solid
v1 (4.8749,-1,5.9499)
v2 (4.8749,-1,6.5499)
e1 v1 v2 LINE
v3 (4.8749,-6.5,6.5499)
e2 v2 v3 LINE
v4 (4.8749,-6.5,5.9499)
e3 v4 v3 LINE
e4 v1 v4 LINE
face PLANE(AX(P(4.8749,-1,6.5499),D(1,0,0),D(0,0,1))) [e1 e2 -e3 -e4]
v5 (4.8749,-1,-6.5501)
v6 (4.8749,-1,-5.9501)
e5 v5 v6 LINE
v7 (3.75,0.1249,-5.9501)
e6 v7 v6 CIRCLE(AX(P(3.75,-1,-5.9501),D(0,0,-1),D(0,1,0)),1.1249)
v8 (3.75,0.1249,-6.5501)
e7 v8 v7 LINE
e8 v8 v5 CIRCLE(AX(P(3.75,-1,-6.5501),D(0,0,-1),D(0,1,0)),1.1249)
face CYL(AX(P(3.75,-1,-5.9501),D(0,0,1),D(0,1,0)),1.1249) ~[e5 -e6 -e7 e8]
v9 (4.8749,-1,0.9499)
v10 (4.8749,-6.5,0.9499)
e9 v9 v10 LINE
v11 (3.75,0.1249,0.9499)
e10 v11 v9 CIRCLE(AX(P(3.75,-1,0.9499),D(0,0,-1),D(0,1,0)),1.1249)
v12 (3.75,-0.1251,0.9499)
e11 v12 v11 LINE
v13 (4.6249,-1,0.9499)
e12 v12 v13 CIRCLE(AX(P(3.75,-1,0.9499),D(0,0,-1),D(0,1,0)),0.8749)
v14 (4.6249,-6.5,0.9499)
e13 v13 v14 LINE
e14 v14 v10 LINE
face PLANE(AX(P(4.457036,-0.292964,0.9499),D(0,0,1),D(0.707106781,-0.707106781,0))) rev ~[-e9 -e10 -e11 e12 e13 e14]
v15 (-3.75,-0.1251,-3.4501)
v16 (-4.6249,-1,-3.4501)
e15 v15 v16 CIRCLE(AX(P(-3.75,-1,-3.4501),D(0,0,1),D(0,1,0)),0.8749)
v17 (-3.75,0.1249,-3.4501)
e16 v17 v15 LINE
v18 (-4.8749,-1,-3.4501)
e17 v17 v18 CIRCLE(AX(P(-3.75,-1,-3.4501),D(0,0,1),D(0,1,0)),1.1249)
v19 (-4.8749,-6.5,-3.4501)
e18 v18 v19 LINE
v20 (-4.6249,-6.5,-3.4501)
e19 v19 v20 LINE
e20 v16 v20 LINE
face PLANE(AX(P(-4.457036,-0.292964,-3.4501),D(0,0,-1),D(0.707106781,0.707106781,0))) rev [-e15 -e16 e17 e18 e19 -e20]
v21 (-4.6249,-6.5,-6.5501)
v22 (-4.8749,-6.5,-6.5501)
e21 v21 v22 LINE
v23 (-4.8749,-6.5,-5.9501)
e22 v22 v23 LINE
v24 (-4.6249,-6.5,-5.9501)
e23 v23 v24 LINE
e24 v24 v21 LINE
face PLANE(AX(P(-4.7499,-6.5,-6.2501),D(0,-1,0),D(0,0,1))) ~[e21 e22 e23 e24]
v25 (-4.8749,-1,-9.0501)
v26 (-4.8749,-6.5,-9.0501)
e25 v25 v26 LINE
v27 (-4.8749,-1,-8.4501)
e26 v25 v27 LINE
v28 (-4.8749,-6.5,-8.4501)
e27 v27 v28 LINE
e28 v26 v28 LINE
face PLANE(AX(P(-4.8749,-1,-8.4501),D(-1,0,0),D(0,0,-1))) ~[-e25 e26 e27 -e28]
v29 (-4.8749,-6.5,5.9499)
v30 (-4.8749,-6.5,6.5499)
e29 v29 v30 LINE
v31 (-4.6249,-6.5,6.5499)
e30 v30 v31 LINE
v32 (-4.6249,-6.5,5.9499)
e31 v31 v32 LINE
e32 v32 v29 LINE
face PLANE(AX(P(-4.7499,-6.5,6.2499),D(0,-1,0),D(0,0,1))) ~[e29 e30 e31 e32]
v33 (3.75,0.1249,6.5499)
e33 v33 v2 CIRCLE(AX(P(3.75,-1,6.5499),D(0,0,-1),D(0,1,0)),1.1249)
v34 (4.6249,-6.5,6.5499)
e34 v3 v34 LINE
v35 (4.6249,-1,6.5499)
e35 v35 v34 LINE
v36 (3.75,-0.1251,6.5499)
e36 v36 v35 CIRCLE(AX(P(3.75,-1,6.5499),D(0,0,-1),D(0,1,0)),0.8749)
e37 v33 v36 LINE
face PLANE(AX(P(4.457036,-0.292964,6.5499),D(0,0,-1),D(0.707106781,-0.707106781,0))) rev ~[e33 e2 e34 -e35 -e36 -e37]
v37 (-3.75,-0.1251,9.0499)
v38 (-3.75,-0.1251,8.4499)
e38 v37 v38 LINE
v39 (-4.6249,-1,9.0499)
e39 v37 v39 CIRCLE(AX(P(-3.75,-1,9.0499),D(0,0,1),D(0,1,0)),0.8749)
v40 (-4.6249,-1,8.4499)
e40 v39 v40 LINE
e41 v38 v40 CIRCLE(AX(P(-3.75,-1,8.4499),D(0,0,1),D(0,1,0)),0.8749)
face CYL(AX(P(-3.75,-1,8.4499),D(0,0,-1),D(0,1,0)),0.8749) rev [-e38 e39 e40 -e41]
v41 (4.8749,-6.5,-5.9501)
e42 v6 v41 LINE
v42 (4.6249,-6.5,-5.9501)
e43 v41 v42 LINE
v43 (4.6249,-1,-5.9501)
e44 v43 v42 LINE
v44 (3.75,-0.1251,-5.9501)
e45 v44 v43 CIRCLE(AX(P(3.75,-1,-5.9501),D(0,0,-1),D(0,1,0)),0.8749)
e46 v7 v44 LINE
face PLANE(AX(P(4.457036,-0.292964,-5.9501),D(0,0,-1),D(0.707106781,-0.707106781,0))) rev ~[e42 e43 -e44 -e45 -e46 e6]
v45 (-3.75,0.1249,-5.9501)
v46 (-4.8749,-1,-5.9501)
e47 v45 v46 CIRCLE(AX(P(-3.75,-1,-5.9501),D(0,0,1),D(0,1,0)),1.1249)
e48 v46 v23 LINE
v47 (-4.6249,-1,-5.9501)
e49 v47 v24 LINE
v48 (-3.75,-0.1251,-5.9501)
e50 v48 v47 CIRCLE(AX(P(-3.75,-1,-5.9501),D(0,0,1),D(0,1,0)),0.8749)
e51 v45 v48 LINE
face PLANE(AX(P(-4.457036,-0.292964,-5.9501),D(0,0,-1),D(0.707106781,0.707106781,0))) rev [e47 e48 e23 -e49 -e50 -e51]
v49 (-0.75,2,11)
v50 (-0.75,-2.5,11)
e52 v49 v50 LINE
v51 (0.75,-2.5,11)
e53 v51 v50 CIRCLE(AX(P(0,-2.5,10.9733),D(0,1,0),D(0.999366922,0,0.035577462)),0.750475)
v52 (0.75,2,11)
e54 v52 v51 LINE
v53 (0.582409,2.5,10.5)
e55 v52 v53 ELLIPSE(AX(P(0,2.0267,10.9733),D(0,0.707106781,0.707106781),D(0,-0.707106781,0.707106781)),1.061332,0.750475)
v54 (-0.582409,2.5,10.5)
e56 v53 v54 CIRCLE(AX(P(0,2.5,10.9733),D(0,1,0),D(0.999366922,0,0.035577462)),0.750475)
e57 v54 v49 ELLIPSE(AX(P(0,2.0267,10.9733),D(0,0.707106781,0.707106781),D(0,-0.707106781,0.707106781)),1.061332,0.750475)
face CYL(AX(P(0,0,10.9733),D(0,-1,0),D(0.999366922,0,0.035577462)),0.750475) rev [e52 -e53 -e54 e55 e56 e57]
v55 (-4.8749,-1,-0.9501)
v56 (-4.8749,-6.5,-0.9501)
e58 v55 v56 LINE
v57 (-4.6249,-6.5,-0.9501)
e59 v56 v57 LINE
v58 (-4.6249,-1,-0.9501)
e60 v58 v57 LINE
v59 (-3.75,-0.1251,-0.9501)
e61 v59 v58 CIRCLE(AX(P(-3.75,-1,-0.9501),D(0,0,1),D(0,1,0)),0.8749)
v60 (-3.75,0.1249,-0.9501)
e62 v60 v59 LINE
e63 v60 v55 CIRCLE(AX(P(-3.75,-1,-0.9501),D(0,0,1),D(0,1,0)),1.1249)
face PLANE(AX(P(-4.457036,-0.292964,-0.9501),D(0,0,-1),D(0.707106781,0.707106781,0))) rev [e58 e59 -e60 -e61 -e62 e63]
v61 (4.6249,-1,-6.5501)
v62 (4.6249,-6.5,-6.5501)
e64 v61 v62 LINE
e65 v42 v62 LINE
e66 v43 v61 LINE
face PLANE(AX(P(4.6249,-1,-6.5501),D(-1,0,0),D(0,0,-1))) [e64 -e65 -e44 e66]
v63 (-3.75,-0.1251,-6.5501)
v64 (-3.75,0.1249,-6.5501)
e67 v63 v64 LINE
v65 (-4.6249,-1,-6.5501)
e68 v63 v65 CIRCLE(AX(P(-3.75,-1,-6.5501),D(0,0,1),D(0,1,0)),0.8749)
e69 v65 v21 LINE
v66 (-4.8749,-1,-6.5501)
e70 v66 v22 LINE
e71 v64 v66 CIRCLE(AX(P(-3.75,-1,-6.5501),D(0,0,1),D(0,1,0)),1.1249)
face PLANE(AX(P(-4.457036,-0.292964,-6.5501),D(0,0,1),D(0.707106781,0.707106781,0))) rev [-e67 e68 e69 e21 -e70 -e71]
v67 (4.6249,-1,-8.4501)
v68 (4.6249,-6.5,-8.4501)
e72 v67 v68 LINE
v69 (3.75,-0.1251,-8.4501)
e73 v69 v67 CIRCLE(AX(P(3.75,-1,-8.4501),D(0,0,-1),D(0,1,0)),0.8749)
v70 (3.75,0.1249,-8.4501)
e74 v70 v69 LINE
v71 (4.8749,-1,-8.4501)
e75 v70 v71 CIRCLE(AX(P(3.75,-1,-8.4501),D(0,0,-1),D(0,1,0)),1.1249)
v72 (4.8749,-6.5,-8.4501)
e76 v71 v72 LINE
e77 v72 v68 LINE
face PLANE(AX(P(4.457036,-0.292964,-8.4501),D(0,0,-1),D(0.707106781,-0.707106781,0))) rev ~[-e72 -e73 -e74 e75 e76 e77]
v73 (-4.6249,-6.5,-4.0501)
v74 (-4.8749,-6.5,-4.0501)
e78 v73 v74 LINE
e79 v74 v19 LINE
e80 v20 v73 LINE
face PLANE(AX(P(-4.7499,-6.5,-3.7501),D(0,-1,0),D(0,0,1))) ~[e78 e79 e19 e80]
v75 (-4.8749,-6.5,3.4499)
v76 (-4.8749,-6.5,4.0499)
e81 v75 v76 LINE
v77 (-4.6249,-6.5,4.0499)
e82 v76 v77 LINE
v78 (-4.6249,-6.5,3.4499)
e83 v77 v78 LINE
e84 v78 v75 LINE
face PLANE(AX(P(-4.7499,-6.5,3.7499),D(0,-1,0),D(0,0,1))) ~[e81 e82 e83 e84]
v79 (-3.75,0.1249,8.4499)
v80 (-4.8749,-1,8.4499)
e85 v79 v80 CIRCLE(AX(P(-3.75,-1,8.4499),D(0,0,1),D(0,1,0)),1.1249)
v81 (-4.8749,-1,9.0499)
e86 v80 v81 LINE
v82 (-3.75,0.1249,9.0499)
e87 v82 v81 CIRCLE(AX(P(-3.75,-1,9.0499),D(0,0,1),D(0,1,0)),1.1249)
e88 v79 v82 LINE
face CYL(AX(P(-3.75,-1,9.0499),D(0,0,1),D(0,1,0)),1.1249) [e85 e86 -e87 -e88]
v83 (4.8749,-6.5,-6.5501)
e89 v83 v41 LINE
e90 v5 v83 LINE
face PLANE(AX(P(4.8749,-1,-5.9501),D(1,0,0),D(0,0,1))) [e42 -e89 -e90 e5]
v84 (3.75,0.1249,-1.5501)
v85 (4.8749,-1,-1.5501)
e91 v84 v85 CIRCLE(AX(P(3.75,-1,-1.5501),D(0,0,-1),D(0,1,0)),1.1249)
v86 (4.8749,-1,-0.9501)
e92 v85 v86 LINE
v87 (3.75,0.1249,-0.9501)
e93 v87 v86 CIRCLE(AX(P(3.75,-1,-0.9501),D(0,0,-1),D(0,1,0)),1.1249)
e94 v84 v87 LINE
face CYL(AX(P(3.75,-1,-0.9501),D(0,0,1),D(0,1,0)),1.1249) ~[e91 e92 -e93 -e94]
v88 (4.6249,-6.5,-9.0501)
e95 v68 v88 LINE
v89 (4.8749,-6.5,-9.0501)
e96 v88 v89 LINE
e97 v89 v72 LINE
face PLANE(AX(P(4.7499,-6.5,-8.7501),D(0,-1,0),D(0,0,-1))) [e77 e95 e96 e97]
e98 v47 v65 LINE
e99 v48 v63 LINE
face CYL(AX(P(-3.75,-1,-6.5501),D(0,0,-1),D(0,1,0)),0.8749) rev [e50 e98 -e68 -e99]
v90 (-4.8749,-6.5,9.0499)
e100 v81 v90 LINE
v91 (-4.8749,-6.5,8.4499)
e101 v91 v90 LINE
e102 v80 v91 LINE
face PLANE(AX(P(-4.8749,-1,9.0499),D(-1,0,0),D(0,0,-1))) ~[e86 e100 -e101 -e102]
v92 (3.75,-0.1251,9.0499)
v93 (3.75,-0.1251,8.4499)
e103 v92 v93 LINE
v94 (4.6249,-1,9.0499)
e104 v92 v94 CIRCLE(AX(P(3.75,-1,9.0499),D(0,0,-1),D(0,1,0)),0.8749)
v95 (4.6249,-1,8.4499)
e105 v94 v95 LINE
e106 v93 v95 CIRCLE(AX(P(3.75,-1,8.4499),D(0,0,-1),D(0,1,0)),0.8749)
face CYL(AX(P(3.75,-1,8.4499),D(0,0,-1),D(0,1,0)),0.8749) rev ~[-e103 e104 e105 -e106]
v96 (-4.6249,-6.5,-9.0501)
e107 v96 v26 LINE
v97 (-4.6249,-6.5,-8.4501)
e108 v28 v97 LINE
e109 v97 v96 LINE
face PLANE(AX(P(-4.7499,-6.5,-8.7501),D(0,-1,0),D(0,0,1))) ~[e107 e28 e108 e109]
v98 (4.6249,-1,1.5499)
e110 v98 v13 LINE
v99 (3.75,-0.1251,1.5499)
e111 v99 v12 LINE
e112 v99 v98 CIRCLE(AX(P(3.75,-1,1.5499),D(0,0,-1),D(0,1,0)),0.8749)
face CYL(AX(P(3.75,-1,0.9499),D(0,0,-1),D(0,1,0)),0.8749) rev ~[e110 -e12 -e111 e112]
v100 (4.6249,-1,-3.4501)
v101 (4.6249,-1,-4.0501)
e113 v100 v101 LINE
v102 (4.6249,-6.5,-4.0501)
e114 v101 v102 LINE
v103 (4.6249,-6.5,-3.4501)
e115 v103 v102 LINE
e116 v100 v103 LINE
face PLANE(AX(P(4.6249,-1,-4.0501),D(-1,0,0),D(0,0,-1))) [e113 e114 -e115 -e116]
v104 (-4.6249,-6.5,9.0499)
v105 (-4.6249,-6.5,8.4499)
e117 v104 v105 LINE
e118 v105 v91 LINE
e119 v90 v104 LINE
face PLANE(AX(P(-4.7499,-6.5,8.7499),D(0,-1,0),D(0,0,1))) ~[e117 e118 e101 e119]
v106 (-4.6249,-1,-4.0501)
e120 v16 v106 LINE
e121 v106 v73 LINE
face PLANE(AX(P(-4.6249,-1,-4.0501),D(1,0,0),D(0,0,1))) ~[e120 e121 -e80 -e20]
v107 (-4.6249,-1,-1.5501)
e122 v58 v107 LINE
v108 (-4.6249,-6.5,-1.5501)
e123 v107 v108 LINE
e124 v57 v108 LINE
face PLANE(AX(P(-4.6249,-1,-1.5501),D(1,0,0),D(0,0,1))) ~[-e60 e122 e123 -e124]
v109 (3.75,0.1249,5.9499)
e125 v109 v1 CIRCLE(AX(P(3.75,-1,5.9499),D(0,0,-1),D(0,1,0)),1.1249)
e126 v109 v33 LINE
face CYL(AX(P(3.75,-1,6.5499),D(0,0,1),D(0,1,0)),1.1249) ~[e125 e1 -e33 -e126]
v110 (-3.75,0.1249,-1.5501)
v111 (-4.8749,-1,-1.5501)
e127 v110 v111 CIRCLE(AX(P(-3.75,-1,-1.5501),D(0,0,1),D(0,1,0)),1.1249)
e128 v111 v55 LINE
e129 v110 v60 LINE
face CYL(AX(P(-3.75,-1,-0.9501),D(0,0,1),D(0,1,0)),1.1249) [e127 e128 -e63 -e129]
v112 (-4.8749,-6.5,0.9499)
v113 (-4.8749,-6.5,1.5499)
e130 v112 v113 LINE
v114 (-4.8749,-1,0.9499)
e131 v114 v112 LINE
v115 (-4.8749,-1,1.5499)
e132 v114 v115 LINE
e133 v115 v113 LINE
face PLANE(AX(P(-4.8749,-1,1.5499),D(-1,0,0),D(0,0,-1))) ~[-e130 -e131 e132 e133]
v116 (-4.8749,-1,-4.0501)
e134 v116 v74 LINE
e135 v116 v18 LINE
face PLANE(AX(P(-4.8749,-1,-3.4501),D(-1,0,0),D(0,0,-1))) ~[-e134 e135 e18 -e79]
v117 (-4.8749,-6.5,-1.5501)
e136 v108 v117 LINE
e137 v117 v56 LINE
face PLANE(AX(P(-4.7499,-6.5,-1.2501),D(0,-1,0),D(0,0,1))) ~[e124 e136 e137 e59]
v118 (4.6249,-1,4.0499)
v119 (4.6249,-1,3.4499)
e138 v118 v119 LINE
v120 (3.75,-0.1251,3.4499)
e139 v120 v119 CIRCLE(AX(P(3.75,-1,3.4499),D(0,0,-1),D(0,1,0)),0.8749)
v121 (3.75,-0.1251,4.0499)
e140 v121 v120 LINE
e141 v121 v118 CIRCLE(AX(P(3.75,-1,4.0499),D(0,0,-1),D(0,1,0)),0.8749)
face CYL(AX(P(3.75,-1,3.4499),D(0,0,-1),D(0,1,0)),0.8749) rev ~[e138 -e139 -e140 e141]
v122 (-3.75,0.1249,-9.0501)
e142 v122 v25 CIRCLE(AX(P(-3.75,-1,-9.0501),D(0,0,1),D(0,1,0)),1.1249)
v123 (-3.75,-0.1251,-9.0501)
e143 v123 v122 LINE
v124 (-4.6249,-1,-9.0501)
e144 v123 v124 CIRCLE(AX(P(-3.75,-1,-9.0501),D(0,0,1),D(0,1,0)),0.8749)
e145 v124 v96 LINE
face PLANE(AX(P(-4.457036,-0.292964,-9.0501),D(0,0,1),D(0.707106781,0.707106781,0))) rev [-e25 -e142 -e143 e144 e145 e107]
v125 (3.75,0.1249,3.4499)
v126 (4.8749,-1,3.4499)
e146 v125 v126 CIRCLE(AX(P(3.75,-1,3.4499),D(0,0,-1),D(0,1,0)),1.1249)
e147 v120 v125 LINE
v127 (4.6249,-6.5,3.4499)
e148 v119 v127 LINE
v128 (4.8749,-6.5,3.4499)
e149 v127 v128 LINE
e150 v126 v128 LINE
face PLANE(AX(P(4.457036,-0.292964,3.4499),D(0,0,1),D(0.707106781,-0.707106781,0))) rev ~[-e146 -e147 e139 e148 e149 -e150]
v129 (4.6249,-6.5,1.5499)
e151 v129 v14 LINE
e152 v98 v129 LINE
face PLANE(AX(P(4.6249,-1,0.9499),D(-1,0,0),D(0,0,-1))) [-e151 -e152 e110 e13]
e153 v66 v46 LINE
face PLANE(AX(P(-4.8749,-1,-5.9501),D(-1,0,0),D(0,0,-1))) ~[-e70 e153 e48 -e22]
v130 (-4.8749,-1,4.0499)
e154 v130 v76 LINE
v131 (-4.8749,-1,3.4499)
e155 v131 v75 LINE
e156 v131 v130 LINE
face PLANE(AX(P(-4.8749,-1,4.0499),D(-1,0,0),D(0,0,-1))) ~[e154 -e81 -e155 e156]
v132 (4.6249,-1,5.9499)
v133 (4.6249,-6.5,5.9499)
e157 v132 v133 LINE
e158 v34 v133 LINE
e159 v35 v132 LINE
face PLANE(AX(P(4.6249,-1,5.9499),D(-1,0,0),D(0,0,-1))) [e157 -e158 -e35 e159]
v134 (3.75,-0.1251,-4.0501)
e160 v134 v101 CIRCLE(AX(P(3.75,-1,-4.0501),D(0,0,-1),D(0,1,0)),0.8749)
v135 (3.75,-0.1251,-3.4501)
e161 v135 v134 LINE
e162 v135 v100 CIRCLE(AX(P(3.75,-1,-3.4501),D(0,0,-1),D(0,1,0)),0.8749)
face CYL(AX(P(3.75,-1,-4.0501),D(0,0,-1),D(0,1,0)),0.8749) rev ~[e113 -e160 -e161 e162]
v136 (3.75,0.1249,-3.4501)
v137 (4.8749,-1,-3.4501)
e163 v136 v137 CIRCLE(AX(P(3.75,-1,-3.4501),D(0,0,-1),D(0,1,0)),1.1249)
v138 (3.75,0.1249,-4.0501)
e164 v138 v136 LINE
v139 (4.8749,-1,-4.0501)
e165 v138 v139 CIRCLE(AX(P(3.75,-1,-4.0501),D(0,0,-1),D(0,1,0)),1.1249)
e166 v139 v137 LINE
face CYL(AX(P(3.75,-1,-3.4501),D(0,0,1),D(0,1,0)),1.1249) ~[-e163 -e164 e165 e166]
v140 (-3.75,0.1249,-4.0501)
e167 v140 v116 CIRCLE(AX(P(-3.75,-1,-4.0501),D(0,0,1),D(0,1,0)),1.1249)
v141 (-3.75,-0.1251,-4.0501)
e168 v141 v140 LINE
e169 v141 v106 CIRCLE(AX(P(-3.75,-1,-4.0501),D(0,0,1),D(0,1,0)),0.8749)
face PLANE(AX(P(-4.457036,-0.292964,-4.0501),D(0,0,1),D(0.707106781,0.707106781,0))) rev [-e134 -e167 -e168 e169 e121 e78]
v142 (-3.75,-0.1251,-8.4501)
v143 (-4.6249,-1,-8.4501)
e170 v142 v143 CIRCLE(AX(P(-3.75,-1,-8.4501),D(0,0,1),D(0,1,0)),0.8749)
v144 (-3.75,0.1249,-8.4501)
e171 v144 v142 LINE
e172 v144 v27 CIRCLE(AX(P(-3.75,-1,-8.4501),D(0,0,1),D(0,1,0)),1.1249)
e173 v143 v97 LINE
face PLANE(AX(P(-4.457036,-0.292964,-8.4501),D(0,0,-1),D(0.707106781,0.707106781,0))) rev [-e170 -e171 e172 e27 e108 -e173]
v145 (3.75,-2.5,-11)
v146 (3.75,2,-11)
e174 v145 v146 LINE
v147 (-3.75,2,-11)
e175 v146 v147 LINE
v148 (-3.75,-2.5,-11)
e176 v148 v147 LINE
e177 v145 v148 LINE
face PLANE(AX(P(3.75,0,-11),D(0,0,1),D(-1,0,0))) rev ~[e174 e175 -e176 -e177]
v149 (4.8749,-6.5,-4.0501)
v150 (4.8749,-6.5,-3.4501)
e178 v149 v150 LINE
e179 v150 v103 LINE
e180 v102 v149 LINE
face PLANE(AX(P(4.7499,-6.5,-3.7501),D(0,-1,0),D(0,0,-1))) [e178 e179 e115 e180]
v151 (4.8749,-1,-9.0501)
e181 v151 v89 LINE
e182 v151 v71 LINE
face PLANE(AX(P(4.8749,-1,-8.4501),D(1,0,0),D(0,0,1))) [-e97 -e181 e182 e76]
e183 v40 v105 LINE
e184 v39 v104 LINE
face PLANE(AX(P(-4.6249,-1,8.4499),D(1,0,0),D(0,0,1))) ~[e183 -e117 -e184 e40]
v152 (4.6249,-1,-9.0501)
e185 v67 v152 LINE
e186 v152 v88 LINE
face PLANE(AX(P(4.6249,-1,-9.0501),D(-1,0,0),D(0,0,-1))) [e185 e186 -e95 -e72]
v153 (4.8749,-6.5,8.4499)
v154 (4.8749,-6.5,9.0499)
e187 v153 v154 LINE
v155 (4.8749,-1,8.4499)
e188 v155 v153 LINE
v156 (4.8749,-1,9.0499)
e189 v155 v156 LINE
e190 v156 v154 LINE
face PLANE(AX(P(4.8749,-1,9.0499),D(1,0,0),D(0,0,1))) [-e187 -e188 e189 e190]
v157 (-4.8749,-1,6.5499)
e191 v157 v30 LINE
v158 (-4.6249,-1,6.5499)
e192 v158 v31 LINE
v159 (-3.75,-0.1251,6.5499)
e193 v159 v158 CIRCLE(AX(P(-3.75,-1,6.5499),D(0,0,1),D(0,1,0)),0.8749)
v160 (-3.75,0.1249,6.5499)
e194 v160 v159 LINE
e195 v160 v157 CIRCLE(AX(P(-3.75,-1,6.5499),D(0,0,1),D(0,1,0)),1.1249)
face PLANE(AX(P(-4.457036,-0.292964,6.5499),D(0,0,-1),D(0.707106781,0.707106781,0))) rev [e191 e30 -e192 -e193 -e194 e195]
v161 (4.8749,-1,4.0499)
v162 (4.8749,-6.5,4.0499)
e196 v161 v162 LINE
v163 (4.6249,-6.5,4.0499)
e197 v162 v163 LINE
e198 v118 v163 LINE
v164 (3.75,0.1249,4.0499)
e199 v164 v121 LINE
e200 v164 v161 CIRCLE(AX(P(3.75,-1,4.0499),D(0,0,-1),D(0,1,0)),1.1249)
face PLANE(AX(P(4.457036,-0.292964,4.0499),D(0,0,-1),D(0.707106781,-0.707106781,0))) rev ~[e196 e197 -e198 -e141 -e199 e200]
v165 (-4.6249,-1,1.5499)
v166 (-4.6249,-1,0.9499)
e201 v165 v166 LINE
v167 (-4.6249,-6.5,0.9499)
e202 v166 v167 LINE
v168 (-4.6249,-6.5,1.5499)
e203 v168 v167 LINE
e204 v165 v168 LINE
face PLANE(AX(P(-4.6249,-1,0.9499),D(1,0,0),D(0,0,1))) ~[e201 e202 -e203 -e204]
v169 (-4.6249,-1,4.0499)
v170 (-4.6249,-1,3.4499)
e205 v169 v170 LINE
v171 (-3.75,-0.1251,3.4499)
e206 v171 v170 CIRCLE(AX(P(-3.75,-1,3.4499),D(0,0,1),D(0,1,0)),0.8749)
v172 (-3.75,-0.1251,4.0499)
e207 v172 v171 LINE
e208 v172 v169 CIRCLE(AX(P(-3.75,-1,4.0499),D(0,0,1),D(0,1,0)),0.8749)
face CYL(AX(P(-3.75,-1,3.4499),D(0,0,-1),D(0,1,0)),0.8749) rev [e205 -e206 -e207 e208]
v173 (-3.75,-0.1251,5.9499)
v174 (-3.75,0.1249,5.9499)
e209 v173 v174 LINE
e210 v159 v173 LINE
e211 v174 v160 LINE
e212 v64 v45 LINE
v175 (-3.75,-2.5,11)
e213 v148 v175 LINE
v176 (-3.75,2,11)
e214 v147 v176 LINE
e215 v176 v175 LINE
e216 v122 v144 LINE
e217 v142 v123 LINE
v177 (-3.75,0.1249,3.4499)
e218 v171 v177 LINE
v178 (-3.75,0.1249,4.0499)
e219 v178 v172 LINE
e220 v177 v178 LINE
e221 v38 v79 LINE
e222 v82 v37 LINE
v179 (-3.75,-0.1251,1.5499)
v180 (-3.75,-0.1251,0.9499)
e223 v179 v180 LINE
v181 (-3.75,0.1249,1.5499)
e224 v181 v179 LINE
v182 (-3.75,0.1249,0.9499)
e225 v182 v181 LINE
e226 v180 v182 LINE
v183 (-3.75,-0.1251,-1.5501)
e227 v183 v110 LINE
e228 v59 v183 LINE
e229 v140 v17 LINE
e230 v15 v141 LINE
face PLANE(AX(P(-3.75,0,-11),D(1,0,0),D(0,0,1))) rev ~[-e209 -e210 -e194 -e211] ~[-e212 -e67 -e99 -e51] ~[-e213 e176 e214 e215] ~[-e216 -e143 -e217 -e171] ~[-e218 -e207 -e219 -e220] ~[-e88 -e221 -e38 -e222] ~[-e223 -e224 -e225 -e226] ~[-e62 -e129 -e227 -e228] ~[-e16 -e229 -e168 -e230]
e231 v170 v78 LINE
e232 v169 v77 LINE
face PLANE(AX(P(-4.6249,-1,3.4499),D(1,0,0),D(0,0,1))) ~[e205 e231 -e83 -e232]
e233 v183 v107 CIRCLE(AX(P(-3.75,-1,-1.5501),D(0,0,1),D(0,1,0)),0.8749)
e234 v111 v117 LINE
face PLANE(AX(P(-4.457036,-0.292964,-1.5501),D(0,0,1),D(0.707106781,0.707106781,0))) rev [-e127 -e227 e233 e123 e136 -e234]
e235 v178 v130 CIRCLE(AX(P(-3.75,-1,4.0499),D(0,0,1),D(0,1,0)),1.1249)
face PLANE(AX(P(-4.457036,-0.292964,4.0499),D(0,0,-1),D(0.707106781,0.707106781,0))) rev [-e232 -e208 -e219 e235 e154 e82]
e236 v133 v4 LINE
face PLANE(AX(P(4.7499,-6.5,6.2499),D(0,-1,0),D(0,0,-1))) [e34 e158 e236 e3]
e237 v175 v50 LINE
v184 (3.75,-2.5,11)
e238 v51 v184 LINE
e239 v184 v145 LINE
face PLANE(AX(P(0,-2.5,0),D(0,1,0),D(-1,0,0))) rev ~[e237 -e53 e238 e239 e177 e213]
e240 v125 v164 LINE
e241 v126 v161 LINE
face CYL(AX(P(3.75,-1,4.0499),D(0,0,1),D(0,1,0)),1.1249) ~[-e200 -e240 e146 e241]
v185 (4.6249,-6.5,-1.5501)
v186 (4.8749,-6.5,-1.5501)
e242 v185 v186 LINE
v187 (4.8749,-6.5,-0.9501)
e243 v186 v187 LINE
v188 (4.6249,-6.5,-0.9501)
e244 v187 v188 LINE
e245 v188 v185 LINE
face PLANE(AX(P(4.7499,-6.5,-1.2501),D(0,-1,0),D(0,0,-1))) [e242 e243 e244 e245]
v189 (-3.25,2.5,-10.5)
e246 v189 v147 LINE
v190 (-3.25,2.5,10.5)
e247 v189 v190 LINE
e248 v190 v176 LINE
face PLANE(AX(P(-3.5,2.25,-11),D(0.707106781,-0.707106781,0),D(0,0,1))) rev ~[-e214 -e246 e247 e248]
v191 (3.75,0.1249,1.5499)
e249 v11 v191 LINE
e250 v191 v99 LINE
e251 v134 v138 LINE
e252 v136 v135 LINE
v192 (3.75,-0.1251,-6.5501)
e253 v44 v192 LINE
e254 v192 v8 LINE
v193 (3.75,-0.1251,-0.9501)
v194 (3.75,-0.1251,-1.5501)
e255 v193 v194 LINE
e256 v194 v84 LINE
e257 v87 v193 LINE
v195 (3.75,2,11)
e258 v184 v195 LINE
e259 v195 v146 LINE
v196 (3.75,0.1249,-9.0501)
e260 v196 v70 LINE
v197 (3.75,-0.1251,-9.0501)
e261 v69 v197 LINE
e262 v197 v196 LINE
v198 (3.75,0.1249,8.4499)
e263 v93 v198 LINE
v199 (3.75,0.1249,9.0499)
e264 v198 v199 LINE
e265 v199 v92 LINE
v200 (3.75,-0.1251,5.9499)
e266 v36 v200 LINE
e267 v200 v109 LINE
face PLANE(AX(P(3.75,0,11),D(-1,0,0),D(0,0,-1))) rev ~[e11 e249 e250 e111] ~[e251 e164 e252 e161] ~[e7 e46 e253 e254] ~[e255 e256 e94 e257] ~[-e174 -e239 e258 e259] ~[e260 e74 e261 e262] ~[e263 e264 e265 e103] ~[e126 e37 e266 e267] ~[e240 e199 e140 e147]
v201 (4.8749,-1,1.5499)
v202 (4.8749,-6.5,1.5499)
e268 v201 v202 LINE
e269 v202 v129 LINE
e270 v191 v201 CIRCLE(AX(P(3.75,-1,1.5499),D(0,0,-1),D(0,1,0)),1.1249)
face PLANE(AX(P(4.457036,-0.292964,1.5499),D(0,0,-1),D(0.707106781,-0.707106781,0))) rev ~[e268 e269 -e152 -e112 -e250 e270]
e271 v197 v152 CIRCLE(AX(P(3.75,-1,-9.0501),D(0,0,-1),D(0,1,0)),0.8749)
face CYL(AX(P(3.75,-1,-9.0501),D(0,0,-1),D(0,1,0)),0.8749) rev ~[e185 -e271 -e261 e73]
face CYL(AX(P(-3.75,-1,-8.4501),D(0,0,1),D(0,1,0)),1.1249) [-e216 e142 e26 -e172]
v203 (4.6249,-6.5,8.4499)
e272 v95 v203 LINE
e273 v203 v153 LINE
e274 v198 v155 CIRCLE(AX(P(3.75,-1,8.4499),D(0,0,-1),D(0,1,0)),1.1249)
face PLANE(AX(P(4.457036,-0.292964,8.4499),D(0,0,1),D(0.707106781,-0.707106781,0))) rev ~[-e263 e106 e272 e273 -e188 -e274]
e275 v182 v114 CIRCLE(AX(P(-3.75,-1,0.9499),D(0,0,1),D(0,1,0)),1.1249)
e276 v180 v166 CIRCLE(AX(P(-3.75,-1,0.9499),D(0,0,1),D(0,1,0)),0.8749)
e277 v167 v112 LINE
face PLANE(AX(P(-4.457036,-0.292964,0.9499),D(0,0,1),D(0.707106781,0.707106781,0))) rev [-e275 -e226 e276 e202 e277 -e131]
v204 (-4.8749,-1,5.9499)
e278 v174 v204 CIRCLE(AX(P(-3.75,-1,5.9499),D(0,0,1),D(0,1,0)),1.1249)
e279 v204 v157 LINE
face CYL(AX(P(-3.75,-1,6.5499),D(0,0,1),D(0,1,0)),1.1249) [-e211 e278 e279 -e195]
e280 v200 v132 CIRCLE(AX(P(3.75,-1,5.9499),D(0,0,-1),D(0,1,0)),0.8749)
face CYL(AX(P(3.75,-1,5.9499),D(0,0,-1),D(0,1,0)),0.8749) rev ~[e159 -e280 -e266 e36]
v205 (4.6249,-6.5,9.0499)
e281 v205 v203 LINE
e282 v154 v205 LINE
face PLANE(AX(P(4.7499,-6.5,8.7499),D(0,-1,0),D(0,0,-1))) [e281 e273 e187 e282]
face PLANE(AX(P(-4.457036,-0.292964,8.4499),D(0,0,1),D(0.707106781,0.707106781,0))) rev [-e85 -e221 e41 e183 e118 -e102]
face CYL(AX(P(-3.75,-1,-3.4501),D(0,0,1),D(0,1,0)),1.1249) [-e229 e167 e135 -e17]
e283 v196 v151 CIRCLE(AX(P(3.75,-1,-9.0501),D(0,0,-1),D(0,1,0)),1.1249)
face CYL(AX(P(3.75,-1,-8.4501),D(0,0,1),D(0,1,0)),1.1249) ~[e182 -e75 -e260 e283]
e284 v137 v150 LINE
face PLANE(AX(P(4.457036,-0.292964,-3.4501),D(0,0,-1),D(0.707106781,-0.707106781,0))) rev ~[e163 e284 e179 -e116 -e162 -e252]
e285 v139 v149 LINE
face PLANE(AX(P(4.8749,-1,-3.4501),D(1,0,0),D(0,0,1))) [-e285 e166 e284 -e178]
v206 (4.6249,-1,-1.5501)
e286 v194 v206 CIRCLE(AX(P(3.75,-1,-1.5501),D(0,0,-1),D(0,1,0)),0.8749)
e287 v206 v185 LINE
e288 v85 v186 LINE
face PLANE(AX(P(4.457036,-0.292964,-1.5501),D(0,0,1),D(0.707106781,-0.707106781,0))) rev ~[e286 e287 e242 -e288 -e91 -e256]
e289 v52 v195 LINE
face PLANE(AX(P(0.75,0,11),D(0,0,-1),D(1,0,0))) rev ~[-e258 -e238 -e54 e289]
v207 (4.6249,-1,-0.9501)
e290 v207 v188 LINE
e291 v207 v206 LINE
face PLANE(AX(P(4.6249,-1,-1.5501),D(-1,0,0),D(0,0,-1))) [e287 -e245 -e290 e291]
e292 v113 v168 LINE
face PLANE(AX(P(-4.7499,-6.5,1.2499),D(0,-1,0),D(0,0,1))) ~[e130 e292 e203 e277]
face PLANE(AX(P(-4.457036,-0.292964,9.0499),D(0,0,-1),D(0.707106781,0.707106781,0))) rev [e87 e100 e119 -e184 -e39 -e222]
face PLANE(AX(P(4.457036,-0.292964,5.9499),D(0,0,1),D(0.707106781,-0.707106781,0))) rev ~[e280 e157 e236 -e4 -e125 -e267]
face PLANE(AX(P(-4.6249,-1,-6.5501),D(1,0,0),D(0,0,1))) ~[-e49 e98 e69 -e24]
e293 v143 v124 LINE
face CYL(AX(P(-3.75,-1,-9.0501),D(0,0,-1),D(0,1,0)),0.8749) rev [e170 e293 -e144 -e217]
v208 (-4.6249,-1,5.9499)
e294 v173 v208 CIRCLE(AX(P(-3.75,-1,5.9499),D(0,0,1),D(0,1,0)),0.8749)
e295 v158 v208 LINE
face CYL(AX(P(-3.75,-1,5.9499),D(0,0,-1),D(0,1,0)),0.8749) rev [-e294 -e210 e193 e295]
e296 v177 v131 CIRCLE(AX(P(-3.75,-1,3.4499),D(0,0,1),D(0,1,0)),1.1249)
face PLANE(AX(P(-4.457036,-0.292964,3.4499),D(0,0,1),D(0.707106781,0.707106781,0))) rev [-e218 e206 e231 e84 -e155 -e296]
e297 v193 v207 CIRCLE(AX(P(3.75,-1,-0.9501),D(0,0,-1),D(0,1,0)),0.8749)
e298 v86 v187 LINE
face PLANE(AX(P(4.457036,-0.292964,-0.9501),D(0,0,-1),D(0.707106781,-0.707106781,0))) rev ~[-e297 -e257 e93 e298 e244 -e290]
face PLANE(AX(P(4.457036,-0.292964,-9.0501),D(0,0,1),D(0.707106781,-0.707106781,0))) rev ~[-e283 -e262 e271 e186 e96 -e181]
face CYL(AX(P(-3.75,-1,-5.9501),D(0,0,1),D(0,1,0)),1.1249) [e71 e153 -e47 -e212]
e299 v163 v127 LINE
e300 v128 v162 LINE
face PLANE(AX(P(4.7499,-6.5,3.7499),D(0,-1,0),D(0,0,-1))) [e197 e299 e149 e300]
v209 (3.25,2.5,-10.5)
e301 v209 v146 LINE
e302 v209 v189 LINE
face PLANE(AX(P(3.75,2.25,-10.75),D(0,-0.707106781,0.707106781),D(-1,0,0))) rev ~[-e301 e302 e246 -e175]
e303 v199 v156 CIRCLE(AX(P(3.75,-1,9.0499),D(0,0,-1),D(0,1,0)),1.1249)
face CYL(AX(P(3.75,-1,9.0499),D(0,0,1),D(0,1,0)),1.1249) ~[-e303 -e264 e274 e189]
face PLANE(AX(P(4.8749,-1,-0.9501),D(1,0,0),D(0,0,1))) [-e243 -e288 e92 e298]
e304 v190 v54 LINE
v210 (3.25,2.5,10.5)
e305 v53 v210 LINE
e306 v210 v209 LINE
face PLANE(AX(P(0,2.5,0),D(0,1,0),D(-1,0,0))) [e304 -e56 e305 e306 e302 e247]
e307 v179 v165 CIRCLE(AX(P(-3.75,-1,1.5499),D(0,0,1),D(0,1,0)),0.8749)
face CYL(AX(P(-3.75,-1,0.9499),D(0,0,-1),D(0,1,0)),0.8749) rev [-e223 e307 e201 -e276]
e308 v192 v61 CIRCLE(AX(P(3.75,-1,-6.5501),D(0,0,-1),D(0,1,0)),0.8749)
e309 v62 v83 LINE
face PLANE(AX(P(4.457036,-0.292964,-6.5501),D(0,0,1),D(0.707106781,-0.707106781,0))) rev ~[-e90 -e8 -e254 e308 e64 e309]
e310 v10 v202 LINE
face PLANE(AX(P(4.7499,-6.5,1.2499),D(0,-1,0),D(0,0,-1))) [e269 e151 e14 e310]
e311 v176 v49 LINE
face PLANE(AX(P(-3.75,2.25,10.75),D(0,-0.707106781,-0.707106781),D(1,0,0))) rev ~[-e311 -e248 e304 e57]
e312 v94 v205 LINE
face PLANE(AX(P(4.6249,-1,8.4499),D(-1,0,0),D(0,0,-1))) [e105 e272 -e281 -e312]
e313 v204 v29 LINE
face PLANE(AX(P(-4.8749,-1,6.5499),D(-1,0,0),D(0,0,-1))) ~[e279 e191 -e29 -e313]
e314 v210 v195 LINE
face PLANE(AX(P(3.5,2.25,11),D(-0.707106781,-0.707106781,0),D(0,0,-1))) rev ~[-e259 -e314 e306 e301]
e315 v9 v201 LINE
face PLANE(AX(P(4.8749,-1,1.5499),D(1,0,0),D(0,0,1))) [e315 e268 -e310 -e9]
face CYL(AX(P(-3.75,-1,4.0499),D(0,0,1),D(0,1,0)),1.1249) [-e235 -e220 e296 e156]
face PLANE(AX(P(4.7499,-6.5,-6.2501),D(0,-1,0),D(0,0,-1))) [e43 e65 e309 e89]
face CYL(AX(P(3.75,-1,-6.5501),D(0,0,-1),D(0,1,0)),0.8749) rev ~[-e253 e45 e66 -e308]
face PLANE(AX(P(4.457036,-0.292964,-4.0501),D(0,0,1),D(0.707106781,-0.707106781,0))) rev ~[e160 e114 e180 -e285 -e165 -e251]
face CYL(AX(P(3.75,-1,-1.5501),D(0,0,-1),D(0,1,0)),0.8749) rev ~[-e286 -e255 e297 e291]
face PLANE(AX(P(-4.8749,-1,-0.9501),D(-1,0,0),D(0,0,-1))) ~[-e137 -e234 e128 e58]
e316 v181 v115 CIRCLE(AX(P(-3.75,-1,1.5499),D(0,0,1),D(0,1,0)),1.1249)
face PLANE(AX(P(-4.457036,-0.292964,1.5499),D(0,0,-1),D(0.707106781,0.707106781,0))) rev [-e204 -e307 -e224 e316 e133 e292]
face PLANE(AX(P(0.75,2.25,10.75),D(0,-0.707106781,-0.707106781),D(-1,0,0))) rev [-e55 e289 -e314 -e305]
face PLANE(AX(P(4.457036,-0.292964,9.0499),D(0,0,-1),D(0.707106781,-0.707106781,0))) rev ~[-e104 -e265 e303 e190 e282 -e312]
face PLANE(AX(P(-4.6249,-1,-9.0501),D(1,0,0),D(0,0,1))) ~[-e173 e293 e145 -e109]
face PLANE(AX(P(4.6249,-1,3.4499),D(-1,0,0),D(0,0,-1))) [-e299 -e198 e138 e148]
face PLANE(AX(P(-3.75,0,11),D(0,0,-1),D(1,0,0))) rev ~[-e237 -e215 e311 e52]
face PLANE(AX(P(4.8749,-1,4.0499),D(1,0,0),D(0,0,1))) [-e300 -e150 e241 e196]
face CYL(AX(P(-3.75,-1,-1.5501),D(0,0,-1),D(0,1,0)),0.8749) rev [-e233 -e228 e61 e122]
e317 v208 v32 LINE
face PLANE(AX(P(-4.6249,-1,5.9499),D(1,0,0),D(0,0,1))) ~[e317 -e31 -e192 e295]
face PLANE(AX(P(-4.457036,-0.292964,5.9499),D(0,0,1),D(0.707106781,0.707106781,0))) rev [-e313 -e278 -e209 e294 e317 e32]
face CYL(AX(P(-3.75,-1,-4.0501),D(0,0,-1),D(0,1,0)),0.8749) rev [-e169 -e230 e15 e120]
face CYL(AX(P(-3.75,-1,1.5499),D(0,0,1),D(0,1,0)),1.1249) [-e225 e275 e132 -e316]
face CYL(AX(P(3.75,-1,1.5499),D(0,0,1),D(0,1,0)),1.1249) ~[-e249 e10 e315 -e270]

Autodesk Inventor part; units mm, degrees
ref_plane "YZ Plane" through (0, 0, 0) normal (1, 0, 0) x (0, 1, 0)
ref_plane "XZ Plane" through (0, 0, 0) normal (0, 1, 0) x (-1, 0, 0)
ref_plane "XY Plane" through (0, 0, 0) normal (0, 0, 1) x (1, 0, 0)
sketch "Sketch1" plane through (0, 0, 0) normal (0, 1, 0) x (-1, 0, 0)
  line L0 (-3.75, 11) -> (-3.75, -11)
  line L1 (-3.75, -11) -> (3.75, -11)
  line L2 (3.75, -11) -> (3.75, 11)
  line L3 (3.75, 11) -> (-3.75, -11) construction
  line L4 (-3.75, 11) -> (3.75, -11) construction
  arc A0 (-0.75, 11) -> (0.75, 11) centre (0, 10.9733) ccw
  line L5 (3.75, 11) -> (0.75, 11)
  line L6 (-0.75, 11) -> (-3.75, 11)
  point P0 (0, 0)
  dimension "d0" = 7.5
  dimension "d1" = 22
extrude "Extrusion1" add sketch "Sketch1" along normal mid plane 5
ref_plane "Work Plane1" through (3.75, 2.5, -8.75) normal (0, 0, -1) x (-1, 0, 0)
ref_plane "Work Plane2" through (0, -6.5, 0) normal (0, -1, 0) x (1, 0, 0)
sketch "Sketch4" plane through (3.75, 2.5, -8.75) normal (0, 0, -1) x (-1, 0, 0)
  line L0 (0, 0) -> (0, -5) projected
  line L1 (0, -2.5) -> (0, -2.5)
  line L2 (-1, -3.5) -> (-1, -9)
  arc A0 (0, -2.5) -> (-1, -3.5) centre (0, -3.5) ccw
  point P0 (3.75, -2.5)
  point P1 (-1, -2.5)
  dimension "d10" = 1
  dimension "d11" = 6.5
  dimension "d25" = 1
sketch "Sketch6" plane through (0, -6.5, 0) normal (0, -1, 0) x (1, 0, 0)
  line L0 (4.8749, -9.0501) -> (4.6249, -9.0501)
  line L1 (4.6249, -9.0501) -> (4.6249, -8.4501)
  line L2 (4.6249, -8.4501) -> (4.8749, -8.4501)
  line L3 (4.8749, -8.4501) -> (4.8749, -9.0501)
  line L4 (4.8749, -9.0501) -> (4.6249, -8.4501) construction
  line L5 (4.6249, -9.0501) -> (4.8749, -8.4501) construction
  point P0 (0, 0)
  point P1 (4.7499, -8.7501)
  dimension "d18" = 0.25
  dimension "d19" = 0.6
sweep "Sweep2" add profiles "Sketch6" path "Sketch4" path curves L2 A0 L1
pattern_linear "Rectangular Pattern2" count 8 spacing 2.5 along (0, 0, 1) of "Sweep2"
mirror "Mirror2" about plane through (0, 0, 0) normal (1, 0, 0) of "Sweep2", "Rectangular Pattern2"
chamfer "Chamfer1" distance 0.5 angle 45 5 edges at (3.75, 2.5, 0) (0, 2.5, -11) (-3.75, 2.5, 0) (-2.25, 2.5, 11) (2.25, 2.5, 11)
properties part number "Mikroshema(dokrUGA)"
